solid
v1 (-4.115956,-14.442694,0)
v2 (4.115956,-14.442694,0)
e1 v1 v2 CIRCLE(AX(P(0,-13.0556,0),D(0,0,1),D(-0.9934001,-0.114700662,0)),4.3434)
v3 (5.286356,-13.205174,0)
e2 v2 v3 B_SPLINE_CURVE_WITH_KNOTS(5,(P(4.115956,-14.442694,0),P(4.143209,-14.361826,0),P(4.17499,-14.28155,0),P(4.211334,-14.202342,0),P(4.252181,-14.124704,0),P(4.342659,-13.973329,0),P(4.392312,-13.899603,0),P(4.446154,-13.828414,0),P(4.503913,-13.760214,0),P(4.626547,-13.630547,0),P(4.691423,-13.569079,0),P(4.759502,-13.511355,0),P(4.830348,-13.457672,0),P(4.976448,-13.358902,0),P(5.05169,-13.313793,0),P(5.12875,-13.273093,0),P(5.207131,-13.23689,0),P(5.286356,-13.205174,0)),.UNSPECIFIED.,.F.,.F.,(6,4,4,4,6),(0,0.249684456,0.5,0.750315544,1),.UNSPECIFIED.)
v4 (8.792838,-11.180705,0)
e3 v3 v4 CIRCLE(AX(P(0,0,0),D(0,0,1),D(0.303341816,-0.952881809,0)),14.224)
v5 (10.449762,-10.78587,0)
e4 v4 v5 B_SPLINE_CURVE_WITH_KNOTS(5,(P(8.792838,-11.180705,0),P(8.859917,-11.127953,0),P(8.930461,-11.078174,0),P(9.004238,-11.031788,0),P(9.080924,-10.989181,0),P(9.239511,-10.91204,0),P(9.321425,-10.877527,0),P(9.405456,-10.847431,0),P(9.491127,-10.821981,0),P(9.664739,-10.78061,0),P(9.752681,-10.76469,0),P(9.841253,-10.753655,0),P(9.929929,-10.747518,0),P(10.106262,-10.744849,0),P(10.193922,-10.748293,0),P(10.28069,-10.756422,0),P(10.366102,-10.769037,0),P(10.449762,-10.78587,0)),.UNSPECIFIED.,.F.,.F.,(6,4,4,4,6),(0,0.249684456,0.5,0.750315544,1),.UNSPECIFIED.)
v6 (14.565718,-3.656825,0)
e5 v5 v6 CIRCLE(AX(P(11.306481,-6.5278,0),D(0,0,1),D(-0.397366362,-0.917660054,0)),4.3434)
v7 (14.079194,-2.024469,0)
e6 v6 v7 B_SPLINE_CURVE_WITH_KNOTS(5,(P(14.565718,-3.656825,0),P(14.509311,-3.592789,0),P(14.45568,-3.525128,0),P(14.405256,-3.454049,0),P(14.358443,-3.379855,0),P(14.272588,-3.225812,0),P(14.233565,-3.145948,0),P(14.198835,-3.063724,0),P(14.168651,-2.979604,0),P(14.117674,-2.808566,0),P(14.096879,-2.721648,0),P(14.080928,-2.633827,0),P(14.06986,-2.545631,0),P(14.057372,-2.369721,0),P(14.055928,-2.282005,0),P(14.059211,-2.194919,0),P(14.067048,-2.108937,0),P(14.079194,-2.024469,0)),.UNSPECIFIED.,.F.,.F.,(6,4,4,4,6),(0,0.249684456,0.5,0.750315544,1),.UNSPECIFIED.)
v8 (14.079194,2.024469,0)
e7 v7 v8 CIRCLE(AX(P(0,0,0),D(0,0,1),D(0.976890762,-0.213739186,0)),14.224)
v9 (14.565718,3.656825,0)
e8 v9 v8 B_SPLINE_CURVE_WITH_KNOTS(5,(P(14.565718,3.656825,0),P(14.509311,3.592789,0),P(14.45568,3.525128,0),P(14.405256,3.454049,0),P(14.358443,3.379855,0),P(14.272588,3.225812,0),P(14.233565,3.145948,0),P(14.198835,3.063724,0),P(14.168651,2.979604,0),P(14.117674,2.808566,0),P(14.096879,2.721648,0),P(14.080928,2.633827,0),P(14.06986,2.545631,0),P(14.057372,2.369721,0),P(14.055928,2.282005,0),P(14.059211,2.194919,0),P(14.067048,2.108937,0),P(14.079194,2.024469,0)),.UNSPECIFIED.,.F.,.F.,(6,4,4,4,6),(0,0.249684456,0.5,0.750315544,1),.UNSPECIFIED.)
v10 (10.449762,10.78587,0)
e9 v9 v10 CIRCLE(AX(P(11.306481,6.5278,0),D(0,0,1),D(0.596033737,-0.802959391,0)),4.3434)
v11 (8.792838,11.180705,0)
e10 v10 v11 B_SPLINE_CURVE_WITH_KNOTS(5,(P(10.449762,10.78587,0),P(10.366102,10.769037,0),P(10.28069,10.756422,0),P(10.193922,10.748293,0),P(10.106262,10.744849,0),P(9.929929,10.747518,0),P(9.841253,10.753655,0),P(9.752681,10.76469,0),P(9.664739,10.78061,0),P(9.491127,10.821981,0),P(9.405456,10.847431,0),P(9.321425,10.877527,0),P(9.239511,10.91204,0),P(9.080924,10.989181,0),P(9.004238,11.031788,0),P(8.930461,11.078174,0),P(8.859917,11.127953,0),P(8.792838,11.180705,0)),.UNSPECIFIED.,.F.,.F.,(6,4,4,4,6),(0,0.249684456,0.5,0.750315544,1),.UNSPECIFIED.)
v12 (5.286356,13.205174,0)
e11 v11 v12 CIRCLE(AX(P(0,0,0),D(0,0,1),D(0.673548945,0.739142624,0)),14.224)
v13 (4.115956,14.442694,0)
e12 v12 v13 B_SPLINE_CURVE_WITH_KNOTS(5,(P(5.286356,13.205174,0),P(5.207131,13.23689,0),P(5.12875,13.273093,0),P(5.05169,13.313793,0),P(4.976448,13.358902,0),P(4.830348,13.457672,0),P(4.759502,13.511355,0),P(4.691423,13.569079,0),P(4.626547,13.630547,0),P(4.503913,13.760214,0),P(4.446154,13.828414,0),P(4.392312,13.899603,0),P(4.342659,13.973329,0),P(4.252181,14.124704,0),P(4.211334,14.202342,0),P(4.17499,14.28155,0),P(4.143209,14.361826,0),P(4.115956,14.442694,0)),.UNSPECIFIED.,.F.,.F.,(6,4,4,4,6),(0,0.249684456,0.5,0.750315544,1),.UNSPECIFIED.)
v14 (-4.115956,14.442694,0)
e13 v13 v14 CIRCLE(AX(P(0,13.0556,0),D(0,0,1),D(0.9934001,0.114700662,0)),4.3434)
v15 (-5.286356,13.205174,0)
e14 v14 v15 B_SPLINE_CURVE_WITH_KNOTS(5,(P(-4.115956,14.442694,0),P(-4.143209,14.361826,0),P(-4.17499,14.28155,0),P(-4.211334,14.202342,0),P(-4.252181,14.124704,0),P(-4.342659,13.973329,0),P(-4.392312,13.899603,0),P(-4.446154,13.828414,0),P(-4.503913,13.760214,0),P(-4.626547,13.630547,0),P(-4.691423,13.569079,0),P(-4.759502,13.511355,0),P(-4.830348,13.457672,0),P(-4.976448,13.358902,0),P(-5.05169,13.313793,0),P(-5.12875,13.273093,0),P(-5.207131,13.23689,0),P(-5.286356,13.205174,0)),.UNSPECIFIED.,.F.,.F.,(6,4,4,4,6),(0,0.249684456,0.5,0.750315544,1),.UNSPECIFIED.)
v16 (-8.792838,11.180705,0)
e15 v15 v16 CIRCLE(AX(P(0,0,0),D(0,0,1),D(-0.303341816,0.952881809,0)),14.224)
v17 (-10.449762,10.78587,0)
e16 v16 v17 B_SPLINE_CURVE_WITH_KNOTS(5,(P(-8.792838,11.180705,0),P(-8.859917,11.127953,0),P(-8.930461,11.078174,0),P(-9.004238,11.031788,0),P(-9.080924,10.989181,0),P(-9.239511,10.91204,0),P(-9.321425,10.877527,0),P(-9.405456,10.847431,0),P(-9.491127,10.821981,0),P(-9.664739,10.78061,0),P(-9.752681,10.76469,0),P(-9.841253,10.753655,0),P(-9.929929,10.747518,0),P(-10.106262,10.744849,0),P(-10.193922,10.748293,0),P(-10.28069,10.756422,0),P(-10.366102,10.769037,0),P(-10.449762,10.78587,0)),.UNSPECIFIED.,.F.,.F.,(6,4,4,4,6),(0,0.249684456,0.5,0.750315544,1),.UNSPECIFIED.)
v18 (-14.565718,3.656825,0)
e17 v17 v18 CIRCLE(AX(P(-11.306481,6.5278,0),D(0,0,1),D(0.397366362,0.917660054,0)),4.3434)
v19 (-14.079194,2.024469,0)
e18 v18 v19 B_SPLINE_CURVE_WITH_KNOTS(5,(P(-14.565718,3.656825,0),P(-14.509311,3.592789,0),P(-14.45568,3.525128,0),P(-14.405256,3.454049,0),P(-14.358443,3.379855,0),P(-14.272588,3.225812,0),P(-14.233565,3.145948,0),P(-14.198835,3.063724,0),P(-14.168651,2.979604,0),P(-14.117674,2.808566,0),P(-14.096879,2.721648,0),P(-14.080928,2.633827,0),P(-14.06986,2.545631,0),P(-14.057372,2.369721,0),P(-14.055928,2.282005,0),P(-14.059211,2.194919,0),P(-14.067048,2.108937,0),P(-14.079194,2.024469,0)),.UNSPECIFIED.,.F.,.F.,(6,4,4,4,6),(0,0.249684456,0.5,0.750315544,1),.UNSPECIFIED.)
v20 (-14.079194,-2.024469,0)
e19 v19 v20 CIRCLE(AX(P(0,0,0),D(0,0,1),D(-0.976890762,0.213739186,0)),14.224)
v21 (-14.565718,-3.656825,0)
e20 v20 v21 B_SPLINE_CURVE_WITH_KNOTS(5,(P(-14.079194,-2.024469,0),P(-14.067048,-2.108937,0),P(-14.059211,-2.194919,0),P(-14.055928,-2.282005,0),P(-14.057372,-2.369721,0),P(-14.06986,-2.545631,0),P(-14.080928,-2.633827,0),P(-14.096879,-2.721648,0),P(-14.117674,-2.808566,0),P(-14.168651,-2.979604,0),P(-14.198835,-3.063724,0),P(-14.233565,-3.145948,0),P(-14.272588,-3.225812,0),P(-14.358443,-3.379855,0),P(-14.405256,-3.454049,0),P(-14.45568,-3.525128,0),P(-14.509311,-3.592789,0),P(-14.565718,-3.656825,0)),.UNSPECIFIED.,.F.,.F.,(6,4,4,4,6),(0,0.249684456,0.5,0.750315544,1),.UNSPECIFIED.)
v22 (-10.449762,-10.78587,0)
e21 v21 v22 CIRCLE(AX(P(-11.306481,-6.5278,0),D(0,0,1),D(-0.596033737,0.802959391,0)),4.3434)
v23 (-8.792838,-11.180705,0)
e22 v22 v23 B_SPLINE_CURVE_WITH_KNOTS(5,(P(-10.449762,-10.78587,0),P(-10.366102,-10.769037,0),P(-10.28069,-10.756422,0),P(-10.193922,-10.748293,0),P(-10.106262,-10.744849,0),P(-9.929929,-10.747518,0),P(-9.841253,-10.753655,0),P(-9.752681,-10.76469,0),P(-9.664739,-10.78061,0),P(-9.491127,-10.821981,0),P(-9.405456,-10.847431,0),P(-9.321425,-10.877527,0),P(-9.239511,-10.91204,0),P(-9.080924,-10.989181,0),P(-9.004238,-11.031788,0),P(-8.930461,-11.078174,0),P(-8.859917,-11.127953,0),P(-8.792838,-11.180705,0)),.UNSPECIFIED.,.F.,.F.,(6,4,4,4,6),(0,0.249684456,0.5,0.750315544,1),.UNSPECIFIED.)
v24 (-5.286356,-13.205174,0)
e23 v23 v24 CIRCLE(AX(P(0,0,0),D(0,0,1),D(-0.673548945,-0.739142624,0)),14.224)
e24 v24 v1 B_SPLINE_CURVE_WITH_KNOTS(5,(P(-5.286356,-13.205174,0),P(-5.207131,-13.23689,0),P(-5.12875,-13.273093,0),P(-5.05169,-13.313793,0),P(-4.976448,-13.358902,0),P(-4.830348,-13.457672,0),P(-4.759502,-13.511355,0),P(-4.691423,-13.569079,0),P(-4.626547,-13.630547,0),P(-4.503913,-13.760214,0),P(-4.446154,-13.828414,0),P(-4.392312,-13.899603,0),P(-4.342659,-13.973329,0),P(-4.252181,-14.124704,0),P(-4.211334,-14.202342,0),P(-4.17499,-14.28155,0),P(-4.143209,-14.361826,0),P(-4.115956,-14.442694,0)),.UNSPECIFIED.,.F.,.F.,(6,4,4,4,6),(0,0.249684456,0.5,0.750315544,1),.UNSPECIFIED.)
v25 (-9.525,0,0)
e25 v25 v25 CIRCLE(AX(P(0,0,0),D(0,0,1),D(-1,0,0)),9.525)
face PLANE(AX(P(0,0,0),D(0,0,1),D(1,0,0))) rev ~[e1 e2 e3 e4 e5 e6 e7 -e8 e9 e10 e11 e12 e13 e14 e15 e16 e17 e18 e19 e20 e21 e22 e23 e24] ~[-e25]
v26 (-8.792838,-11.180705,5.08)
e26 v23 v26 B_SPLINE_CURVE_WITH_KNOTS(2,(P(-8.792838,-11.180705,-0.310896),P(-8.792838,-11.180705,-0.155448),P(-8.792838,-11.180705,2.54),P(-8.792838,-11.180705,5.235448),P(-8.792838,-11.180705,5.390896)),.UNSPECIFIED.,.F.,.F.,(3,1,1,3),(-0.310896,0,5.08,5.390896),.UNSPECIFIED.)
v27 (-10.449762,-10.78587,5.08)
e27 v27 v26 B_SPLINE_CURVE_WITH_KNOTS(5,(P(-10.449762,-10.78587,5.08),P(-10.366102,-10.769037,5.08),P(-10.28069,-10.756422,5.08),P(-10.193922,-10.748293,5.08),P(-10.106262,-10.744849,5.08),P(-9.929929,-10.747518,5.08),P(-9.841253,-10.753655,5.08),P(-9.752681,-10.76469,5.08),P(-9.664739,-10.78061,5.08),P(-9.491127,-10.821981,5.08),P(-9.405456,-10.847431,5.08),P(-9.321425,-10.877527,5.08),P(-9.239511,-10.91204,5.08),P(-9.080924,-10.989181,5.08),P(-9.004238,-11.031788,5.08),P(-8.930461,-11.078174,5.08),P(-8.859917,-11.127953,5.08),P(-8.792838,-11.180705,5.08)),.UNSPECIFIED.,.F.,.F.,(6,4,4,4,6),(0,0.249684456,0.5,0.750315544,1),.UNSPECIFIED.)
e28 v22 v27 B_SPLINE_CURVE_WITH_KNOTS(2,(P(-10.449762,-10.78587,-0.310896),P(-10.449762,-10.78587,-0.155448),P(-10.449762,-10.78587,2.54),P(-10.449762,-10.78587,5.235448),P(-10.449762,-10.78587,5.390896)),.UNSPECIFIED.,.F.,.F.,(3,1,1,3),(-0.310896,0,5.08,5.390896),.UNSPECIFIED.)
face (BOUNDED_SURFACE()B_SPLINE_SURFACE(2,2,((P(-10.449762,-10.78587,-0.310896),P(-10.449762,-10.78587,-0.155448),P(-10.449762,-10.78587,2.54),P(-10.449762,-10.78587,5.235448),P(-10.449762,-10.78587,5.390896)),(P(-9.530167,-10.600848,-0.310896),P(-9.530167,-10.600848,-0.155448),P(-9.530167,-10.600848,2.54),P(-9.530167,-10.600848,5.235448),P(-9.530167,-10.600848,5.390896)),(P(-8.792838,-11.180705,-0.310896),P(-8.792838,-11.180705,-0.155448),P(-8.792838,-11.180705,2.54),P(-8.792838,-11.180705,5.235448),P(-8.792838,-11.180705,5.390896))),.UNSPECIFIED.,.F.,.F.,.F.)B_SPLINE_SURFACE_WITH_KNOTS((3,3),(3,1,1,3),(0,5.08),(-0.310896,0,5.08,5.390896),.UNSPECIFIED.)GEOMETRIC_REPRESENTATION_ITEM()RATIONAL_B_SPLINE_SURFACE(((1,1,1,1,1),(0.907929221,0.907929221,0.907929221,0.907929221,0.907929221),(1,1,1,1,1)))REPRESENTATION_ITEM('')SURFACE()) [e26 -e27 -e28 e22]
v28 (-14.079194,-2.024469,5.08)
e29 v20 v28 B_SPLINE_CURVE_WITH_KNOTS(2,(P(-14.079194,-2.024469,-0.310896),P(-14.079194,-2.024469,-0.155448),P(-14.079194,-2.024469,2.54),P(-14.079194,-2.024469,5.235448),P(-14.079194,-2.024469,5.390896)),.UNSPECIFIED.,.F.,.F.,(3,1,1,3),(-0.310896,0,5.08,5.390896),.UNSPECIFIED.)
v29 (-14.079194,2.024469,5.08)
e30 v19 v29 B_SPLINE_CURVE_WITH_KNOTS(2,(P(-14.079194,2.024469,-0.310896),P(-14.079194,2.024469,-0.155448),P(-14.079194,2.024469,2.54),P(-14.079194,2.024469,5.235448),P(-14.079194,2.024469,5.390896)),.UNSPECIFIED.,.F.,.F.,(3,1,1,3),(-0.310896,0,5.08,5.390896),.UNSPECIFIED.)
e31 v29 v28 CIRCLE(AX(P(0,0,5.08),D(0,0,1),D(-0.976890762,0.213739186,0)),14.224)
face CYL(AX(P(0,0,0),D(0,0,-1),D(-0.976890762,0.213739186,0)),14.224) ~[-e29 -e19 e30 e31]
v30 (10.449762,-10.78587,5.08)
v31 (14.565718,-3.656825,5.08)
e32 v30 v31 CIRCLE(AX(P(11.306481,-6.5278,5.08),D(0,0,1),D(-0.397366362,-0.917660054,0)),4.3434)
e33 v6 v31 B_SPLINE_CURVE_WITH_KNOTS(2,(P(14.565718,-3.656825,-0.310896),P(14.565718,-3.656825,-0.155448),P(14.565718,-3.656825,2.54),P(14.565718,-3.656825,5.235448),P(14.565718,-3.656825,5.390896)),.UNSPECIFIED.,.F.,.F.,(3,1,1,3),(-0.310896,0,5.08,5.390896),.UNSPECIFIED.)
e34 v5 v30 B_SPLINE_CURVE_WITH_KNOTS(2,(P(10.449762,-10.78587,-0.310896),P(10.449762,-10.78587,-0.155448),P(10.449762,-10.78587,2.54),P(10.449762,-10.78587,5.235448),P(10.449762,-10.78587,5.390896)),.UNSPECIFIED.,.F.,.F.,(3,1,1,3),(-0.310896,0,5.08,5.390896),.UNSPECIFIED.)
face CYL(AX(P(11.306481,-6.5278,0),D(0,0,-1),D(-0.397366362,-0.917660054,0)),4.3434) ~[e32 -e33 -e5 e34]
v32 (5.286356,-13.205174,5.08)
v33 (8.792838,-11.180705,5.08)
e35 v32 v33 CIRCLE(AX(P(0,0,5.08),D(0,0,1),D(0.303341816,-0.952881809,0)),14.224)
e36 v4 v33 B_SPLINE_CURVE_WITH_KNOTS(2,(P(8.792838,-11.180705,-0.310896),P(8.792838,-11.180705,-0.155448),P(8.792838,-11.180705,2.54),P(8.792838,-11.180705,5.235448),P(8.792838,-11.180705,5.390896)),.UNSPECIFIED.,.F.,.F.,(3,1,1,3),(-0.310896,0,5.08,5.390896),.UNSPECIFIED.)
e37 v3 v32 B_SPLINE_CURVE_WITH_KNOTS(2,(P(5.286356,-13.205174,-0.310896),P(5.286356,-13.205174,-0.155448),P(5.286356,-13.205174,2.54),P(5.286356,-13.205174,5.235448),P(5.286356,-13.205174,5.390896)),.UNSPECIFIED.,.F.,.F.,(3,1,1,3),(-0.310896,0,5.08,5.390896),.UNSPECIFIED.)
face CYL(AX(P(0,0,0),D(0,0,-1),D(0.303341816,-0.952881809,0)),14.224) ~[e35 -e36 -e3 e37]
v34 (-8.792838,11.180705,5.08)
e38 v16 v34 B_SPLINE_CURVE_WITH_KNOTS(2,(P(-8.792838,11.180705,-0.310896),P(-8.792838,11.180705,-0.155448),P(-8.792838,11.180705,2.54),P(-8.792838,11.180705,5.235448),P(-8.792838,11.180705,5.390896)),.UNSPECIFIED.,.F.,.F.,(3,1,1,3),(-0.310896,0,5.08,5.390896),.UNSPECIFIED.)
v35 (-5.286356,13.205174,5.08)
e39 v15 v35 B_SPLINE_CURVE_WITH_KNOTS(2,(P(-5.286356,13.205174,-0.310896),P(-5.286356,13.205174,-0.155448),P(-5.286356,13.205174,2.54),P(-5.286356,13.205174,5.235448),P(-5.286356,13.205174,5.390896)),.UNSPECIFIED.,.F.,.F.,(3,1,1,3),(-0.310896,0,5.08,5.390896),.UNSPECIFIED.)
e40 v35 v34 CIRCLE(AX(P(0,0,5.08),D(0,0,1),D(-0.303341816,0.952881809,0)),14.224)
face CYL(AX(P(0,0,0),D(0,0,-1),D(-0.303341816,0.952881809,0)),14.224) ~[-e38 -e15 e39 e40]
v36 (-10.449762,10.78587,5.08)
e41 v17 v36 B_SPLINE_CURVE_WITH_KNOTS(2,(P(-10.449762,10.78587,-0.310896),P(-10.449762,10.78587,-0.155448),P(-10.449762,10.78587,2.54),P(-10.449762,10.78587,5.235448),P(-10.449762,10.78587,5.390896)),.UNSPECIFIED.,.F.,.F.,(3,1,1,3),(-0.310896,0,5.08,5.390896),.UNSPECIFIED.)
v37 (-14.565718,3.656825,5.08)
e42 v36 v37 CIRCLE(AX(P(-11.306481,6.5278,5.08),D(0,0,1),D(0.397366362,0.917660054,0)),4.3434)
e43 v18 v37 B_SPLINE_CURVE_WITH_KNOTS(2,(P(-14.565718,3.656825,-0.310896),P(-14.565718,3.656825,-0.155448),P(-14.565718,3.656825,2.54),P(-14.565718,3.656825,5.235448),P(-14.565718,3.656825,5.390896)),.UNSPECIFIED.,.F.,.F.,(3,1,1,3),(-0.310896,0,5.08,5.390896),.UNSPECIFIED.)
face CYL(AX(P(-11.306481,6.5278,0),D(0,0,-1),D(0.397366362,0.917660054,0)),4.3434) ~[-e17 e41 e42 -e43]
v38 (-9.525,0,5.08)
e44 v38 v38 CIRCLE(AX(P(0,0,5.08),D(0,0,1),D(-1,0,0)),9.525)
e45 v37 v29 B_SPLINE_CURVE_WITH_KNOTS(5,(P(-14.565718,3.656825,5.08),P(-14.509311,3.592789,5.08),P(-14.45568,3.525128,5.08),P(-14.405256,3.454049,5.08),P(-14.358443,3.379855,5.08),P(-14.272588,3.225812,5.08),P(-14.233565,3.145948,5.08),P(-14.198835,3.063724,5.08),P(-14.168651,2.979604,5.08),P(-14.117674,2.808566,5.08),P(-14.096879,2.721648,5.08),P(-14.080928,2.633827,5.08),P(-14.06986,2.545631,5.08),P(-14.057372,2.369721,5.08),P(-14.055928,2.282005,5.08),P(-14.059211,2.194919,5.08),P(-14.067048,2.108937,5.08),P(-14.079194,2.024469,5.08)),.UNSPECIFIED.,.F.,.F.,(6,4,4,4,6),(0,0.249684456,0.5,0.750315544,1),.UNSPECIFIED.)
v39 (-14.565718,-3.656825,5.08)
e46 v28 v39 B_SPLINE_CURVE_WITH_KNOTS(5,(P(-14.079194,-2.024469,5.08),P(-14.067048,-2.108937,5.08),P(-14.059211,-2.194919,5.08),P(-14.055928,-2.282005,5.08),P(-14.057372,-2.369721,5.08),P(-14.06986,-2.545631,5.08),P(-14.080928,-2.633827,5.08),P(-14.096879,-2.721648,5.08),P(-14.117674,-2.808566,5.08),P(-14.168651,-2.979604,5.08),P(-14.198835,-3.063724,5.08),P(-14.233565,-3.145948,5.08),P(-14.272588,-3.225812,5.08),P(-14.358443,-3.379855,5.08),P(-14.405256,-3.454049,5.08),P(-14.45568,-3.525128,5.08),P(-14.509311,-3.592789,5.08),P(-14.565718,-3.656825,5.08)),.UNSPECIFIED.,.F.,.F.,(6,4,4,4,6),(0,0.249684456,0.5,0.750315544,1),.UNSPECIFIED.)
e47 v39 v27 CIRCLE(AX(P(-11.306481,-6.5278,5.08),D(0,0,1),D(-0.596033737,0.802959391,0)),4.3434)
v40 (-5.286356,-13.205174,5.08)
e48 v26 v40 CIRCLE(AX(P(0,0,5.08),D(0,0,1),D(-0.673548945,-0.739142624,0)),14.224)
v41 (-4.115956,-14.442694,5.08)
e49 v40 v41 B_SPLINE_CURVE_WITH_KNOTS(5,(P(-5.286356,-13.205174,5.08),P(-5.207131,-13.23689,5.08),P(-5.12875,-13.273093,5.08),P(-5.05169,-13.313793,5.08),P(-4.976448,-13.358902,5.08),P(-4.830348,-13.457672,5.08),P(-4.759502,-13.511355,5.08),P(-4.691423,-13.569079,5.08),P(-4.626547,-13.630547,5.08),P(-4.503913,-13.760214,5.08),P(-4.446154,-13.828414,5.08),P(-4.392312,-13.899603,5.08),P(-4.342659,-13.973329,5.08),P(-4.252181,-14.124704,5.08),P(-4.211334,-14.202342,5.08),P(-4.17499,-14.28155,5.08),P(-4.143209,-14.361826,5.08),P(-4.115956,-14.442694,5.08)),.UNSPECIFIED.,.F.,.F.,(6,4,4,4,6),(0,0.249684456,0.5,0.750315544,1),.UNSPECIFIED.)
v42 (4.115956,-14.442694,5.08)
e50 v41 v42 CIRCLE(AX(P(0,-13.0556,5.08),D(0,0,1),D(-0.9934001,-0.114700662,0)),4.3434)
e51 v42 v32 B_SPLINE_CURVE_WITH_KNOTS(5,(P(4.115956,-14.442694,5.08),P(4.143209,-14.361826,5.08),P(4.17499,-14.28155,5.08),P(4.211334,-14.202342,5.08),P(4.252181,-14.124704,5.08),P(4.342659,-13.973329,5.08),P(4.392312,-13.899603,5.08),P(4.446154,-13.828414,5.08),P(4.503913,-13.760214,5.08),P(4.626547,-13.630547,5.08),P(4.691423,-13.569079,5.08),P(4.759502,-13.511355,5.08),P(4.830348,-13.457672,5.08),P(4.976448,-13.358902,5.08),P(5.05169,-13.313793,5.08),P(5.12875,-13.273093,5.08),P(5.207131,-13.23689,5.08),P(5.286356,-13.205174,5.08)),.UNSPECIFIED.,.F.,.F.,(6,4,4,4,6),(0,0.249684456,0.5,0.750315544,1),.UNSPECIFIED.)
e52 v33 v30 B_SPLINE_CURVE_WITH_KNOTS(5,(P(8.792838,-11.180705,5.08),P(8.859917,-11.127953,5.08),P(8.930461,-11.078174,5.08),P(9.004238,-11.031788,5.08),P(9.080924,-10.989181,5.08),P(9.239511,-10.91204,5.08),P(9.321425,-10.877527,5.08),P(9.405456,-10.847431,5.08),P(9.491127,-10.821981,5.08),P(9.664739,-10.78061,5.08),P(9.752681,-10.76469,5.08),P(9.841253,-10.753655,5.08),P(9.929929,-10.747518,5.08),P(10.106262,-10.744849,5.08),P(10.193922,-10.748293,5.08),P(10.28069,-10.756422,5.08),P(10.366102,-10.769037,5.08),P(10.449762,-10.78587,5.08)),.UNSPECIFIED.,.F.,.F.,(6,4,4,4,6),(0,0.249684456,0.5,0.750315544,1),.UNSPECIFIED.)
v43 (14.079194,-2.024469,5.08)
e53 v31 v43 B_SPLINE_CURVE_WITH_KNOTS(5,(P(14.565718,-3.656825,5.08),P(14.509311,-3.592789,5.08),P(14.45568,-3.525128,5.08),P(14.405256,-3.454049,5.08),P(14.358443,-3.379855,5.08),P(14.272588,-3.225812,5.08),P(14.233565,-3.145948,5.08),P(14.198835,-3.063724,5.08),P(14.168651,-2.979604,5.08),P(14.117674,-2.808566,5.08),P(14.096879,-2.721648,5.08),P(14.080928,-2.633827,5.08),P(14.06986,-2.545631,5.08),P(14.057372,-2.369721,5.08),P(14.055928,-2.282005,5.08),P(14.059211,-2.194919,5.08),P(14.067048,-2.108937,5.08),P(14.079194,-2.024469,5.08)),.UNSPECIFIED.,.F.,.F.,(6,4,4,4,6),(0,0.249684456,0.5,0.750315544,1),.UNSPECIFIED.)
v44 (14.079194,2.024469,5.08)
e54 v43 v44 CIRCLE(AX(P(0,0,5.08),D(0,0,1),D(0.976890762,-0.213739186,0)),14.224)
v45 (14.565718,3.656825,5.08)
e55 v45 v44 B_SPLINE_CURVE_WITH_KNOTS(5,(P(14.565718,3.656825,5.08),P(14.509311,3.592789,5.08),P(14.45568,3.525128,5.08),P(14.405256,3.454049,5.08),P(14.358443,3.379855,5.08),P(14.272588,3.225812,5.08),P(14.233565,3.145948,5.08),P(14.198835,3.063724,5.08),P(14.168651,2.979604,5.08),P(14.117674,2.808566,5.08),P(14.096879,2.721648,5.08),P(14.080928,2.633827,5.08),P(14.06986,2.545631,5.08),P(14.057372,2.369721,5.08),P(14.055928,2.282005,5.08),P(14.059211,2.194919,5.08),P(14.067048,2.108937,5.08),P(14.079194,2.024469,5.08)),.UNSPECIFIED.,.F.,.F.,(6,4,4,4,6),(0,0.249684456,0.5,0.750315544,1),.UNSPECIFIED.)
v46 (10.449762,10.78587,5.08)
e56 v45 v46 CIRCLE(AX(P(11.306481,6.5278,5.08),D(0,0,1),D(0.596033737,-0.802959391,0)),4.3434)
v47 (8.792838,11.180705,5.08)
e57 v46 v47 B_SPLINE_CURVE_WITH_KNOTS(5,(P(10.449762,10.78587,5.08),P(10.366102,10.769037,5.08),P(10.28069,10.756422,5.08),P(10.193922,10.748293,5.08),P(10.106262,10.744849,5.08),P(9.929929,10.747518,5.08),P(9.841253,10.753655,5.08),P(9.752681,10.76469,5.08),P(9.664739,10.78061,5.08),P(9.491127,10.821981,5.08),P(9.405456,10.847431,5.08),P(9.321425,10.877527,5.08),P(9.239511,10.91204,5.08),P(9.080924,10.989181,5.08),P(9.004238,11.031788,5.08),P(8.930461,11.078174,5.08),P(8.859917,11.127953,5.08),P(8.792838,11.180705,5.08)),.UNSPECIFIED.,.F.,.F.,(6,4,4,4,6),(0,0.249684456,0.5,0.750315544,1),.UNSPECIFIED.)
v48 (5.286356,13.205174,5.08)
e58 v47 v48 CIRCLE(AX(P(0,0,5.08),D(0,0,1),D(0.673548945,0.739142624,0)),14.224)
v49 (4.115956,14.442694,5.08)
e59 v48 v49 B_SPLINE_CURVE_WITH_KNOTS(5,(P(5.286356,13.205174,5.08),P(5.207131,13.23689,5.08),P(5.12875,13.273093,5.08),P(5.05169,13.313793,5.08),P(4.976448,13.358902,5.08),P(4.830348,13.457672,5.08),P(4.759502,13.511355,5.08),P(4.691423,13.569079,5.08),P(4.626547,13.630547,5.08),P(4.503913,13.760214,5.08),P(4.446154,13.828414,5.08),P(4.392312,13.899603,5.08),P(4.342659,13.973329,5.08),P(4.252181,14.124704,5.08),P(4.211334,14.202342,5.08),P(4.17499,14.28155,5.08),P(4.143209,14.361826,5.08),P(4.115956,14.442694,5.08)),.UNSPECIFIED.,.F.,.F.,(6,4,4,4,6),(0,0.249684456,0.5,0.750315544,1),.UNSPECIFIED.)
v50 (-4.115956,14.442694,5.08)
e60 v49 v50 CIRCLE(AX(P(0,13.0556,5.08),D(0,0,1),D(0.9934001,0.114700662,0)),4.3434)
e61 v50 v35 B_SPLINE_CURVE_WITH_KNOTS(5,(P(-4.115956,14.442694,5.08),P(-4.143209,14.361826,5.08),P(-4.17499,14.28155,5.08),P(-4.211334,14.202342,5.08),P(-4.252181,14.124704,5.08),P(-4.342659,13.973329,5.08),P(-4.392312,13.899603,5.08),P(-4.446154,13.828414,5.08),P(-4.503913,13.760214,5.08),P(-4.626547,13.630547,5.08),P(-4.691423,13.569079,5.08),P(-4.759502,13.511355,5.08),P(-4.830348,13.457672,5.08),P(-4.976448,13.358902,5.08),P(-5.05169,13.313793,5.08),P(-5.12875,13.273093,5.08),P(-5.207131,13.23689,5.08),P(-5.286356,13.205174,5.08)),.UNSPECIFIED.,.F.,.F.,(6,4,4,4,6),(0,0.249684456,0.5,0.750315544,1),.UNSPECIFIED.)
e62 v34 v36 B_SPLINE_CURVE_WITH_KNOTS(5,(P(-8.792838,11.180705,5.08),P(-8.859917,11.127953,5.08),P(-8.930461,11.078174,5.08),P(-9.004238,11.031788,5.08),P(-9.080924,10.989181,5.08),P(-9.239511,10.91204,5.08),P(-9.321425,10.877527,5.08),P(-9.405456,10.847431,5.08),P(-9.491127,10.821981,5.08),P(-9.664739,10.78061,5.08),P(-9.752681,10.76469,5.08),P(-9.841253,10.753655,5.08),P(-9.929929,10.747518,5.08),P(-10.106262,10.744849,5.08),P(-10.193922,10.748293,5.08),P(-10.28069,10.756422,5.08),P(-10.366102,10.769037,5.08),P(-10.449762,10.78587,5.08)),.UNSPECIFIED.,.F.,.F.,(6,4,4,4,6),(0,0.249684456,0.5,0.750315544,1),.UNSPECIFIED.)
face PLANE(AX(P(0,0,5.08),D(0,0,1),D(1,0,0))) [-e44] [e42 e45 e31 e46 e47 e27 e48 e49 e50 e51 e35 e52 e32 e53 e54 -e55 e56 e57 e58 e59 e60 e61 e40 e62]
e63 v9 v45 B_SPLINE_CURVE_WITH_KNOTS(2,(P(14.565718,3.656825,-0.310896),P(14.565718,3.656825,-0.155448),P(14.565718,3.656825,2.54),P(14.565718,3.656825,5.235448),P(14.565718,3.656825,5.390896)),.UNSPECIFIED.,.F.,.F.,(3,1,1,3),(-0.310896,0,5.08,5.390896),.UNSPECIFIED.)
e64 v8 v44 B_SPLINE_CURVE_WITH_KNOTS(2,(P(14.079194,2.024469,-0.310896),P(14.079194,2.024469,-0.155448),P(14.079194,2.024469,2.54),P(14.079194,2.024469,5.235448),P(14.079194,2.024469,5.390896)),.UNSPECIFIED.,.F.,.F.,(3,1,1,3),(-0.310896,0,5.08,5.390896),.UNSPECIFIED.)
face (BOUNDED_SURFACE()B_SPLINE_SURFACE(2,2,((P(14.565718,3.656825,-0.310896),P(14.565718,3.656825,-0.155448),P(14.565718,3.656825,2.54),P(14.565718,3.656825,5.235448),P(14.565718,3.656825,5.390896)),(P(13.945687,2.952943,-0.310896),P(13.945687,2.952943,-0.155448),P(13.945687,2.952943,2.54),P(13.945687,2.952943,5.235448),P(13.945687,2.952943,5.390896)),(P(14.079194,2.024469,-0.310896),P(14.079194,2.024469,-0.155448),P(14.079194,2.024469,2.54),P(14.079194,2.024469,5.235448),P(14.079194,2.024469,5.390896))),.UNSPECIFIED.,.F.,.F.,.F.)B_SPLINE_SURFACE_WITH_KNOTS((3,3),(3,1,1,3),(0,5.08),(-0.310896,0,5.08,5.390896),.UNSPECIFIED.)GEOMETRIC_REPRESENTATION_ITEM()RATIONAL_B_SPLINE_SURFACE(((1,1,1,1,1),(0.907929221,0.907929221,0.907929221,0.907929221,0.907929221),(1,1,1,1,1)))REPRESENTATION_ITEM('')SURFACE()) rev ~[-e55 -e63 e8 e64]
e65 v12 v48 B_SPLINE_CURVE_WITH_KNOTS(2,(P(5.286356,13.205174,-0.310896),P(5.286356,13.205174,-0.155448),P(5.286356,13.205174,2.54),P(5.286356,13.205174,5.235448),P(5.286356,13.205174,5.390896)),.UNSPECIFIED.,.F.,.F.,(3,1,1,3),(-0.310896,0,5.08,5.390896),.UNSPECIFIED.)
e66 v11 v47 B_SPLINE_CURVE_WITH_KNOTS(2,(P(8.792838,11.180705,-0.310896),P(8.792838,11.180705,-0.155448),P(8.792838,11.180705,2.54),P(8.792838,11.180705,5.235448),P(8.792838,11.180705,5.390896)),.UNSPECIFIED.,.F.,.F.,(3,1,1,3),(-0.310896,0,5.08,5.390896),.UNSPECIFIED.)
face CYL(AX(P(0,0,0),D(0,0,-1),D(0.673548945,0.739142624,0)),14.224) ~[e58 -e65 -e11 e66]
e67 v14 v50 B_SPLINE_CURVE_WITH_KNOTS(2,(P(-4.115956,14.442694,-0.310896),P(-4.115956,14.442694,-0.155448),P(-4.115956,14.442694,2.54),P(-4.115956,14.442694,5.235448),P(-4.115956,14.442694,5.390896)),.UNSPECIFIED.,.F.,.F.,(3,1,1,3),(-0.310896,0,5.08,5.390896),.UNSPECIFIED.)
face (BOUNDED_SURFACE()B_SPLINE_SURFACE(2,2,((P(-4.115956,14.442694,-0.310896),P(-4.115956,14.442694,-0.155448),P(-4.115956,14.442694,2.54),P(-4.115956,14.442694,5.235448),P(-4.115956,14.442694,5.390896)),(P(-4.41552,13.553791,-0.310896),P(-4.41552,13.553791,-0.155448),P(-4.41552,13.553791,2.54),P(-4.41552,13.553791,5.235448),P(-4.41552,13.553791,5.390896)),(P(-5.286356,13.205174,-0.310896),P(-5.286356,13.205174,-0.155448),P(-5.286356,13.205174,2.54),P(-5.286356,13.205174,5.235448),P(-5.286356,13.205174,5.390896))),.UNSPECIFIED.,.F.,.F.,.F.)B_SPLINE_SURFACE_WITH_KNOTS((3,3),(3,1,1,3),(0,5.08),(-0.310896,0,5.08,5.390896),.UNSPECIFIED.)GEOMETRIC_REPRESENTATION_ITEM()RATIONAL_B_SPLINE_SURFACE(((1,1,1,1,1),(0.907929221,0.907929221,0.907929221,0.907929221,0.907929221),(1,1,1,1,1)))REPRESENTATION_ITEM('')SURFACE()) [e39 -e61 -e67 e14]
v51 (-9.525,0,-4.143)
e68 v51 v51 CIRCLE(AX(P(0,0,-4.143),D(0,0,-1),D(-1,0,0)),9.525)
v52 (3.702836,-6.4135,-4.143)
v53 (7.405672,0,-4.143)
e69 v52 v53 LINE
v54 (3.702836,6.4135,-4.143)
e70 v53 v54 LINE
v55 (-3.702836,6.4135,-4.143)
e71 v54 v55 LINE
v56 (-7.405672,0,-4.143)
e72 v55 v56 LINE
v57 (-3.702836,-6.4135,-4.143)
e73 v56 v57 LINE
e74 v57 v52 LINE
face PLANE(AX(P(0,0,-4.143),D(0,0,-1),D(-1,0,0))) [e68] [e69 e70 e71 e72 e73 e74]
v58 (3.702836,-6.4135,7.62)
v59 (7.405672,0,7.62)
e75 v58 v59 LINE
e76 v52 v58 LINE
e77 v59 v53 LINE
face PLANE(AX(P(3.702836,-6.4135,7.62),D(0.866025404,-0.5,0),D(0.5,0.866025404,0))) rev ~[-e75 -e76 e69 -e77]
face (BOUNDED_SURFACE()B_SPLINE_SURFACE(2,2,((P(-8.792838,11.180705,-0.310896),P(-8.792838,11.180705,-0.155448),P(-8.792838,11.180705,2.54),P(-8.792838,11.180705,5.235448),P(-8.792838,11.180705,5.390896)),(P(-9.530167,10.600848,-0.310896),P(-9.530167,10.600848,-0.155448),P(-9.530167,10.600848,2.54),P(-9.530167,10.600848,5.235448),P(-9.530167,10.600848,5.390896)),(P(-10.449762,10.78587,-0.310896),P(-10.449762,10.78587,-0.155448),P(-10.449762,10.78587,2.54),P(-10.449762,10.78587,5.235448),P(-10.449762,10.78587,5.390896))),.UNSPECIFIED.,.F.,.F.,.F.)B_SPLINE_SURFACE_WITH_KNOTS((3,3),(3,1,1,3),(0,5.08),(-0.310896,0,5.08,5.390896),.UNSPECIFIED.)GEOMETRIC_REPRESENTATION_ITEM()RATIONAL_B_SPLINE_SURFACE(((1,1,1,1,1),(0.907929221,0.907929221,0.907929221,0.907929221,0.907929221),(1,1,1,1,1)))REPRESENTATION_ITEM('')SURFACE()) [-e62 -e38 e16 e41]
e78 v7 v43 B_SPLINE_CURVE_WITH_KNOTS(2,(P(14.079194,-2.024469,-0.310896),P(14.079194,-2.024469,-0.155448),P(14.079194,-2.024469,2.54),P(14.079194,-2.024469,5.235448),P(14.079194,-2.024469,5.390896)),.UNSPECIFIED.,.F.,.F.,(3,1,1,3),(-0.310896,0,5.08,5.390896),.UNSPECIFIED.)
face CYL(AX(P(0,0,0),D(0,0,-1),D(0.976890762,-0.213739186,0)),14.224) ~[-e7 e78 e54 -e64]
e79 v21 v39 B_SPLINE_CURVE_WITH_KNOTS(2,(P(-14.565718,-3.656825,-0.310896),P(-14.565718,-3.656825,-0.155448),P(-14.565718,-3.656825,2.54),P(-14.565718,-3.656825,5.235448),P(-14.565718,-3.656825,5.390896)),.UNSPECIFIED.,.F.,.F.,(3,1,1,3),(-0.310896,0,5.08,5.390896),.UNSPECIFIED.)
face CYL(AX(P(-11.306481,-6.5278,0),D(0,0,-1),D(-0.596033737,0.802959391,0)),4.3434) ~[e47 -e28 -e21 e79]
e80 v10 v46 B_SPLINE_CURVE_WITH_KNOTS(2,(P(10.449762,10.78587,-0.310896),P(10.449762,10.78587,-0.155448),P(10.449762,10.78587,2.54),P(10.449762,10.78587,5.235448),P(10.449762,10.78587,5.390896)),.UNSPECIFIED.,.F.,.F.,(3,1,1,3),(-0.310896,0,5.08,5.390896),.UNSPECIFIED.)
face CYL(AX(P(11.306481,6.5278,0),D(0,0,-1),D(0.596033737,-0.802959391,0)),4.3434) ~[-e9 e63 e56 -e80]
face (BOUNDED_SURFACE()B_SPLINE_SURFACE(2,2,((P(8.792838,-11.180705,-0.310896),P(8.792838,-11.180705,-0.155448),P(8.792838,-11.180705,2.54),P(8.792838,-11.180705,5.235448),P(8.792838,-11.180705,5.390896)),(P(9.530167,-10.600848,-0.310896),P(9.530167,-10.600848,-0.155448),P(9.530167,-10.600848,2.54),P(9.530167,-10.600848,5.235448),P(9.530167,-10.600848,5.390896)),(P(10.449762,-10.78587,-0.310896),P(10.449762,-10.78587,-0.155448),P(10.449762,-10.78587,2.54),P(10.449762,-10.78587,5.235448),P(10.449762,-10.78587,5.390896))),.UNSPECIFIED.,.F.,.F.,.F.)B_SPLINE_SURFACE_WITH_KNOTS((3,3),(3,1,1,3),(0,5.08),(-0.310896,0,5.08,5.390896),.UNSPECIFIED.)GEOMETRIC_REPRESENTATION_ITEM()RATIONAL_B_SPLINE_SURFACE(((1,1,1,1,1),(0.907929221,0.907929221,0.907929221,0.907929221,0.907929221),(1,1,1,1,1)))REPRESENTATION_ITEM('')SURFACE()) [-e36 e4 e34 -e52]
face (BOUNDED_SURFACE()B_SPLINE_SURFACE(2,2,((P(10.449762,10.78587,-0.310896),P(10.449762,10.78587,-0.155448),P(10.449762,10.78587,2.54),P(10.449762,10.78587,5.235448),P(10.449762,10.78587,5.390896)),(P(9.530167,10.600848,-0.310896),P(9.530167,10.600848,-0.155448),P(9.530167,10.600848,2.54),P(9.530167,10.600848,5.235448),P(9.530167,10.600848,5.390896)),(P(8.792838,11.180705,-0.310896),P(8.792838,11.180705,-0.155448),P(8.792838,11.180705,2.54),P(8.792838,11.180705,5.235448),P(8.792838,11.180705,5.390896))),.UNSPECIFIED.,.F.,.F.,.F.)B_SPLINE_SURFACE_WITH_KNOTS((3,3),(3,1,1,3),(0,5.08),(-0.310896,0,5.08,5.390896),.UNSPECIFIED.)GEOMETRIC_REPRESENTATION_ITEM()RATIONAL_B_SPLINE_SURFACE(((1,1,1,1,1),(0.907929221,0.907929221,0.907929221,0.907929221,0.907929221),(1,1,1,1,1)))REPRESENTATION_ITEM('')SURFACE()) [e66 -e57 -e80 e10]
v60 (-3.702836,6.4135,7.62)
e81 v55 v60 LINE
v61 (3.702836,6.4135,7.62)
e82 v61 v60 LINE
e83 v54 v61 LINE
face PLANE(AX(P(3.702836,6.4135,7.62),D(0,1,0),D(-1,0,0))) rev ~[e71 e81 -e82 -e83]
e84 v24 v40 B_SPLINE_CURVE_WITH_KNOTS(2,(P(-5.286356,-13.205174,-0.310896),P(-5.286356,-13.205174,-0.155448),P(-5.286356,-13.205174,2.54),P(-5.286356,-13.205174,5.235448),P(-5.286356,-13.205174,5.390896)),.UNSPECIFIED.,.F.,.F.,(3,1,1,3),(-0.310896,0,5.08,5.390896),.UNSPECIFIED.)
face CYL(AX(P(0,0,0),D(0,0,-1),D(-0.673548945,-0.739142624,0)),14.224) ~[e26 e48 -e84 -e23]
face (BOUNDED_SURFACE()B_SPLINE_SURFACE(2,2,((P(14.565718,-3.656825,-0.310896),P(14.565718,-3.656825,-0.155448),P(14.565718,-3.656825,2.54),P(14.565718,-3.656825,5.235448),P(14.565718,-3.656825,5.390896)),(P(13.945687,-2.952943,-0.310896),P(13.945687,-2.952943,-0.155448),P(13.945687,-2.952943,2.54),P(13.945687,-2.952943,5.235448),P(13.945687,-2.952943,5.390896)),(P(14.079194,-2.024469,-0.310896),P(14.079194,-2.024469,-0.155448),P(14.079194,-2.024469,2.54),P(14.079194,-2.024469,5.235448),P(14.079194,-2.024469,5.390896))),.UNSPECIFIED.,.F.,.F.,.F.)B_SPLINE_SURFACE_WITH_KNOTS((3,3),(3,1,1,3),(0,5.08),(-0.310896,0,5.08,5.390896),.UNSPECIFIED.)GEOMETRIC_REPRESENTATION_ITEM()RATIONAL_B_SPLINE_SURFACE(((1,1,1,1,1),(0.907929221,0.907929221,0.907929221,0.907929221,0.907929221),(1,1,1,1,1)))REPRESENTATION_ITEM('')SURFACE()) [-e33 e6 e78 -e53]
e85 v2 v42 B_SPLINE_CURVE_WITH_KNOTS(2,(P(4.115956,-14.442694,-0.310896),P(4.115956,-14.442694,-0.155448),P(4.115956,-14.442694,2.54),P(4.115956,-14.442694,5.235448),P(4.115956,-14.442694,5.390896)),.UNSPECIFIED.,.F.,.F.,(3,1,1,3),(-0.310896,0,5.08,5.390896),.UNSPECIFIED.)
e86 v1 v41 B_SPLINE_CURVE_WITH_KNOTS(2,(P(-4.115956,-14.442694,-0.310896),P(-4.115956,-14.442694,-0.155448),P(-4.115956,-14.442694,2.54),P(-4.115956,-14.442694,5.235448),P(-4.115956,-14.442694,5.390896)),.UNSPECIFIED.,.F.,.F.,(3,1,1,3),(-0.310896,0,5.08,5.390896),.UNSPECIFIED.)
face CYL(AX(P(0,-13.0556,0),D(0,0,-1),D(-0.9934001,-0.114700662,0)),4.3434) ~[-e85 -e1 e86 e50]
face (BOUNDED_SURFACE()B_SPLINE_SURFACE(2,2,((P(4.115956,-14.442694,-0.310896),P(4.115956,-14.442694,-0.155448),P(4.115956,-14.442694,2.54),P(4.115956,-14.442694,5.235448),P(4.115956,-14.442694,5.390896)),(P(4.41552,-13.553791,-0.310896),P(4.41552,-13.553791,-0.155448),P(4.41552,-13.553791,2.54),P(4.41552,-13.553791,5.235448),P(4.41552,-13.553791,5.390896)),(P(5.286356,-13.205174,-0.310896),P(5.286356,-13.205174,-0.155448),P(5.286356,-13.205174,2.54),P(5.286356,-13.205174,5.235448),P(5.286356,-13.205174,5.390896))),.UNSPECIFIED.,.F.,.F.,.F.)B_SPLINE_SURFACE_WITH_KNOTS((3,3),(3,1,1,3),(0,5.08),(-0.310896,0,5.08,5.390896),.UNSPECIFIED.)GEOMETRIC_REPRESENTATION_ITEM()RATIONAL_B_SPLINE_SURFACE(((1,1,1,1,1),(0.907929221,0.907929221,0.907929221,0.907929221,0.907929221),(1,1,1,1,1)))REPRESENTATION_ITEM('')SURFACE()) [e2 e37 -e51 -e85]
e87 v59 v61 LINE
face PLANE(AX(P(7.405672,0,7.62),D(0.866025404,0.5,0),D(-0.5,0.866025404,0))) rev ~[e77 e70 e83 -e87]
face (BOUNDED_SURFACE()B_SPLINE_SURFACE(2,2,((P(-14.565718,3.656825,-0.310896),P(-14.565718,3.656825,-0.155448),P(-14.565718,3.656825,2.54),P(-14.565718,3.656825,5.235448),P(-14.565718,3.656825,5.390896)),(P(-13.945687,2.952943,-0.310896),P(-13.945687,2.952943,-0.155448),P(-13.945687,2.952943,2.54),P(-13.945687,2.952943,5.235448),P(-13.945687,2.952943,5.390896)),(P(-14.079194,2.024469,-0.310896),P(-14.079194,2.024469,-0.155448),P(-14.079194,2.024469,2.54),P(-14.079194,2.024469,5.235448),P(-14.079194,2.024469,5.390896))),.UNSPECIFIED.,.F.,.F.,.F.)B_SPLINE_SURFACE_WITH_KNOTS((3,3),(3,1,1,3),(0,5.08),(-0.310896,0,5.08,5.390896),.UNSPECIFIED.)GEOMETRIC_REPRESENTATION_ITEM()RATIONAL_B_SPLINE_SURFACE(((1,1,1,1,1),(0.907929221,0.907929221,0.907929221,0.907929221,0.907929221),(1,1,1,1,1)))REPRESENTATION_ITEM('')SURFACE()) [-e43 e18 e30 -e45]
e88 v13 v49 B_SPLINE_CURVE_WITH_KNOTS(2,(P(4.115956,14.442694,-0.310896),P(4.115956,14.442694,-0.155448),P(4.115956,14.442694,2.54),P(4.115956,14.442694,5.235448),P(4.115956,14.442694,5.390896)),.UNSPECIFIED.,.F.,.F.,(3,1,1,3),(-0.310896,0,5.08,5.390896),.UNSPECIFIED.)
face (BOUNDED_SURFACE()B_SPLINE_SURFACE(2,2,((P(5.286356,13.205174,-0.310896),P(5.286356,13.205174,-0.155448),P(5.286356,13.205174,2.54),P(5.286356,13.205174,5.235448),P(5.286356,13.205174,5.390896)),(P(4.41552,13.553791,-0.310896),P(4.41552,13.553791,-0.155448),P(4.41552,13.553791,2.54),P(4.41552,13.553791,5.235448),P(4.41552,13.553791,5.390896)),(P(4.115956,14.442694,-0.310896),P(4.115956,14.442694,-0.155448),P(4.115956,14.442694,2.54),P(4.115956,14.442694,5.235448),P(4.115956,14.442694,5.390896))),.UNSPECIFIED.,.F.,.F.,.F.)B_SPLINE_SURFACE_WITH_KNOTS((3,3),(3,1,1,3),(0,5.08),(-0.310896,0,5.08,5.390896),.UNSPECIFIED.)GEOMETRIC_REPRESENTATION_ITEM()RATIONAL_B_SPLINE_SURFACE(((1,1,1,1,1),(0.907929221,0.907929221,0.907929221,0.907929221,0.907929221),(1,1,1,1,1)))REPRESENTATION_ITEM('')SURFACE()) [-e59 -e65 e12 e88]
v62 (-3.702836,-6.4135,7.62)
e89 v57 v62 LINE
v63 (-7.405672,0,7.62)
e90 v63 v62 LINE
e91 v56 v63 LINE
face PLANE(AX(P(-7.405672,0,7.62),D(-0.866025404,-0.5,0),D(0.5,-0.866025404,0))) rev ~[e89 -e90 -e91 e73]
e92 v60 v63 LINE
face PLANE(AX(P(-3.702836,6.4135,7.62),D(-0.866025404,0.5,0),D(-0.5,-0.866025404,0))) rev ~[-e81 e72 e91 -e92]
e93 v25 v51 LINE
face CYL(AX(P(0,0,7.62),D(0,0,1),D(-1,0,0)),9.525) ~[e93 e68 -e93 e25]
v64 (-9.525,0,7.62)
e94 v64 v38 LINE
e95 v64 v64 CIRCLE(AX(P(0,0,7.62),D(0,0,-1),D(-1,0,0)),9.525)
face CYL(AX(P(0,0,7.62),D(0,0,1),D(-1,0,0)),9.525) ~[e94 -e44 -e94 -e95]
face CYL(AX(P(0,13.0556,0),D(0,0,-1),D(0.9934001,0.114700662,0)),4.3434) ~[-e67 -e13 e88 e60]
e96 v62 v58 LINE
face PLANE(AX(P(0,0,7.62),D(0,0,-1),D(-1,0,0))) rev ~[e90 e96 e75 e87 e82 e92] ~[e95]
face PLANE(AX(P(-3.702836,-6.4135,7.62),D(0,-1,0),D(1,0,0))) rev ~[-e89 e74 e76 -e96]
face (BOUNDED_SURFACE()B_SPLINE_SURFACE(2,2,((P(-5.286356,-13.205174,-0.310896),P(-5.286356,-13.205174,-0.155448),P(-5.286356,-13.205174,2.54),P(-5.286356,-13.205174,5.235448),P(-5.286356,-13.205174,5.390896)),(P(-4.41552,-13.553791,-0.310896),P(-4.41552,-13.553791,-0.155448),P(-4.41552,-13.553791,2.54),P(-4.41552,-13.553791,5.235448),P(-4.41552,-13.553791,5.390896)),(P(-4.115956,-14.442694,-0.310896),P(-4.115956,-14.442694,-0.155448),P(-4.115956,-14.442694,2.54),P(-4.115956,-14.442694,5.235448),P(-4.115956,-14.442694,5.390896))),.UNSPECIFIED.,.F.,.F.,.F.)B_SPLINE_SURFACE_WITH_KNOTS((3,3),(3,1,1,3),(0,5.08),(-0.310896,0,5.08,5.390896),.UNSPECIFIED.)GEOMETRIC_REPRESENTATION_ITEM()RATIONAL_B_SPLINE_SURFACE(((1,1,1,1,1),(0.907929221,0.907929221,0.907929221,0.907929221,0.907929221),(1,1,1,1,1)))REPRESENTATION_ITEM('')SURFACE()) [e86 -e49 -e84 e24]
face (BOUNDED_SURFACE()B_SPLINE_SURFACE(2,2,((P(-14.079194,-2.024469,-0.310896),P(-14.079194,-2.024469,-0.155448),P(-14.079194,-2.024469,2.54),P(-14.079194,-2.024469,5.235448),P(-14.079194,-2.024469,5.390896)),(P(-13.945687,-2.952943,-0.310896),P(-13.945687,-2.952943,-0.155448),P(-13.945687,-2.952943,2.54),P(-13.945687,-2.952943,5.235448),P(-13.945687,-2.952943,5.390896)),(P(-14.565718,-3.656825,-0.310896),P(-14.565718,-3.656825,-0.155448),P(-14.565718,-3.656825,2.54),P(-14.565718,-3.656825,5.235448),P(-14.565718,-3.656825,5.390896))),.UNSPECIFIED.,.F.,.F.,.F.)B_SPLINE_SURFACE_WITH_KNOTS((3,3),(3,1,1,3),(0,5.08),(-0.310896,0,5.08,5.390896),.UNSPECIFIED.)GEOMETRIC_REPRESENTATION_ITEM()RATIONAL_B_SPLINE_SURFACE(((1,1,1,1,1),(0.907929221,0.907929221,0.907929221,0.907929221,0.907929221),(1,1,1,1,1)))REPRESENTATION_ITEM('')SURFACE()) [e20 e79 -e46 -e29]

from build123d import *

# Parameters (mm, degrees)
BOSS_EXTRUDE2_DEPTH      = 5.08
FILLET1_R                = 2.032
CUT_EXTRUDE1_DEPTH       = 24.94682426
BOSS_EXTRUDE3_DEPTH      = 4.143000096
BOSS_EXTRUDE3_DEPTH_BACK = 7.62
SKETCH7_R                = 9.525


with BuildPart() as part:
    # Sketch5 → Boss-Extrude2 (new body)
    with BuildSketch(Plane.XY):
        with BuildLine():
            ThreePointArc((13.895294195, 3.040226179), (15.067976, 8.6995), (9.580560202, 10.513564677))
            ThreePointArc((9.580560202, 10.513564677), (7.112, 12.318345343), (4.314733993, 13.553790856))
            ThreePointArc((4.314733993, 13.553790856), (0, 17.399), (-4.314733993, 13.553790856))
            ThreePointArc((-4.314733993, 13.553790856), (-7.112, 12.318345343), (-9.580560202, 10.513564677))
            ThreePointArc((-9.580560202, 10.513564677), (-15.067976, 8.6995), (-13.895294195, 3.040226179))
            ThreePointArc((-13.895294195, 3.040226179), (-14.224, 0), (-13.895294195, -3.040226179))
            ThreePointArc((-13.895294195, -3.040226179), (-15.067976, -8.6995), (-9.580560202, -10.513564677))
            ThreePointArc((-9.580560202, -10.513564677), (-7.112, -12.318345343), (-4.314733993, -13.553790856))
            ThreePointArc((-4.314733993, -13.553790856), (0, -17.399), (4.314733993, -13.553790856))
            ThreePointArc((4.314733993, -13.553790856), (7.112, -12.318345343), (9.580560202, -10.513564677))
            ThreePointArc((9.580560202, -10.513564677), (15.067976, -8.6995), (13.895294195, -3.040226179))
            ThreePointArc((13.895294195, -3.040226179), (14.224, 0), (13.895294195, 3.040226179))
        make_face()
    extrude(amount=BOSS_EXTRUDE2_DEPTH)

    # Fillet1
    fillet1_edges = [part.edges().sort_by_distance(p)[0] for p in [
        (-4.314733993, 13.553790856, 2.54),
        (4.314733993, 13.553790856, 2.54),
        (9.580560202, 10.513564677, 2.54),
        (13.895294195, 3.040226179, 2.54),
        (13.895294195, -3.040226179, 2.54),
        (9.580560202, -10.513564677, 2.54),
        (4.314733993, -13.553790856, 2.54),
        (-4.314733993, -13.553790856, 2.54),
        (-9.580560202, -10.513564677, 2.54),
        (-13.895294195, -3.040226179, 2.54),
        (-9.580560202, 10.513564677, 2.54),
        (-13.895294195, 3.040226179, 2.54),
    ]]
    fillet(fillet1_edges, radius=FILLET1_R)

    # Sketch6 → Cut-Extrude1 (cut, through all)
    with BuildSketch(Plane.XY.offset(5.08)):
        Polygon((7.405671903, 0), (3.702835951, 6.4135), (-3.702835951, 6.4135), (-7.405671903, 0), (-3.702835951, -6.4135), (3.702835951, -6.4135), align=None)
    extrude(amount=-CUT_EXTRUDE1_DEPTH, mode=Mode.SUBTRACT)

    # Sketch7 → Boss-Extrude3 (add, two sides: drawn at the far end of the back side and taken through both)
    with BuildSketch(Plane(origin=(0, 0, 0), x_dir=(-1, 0, 0), z_dir=(0, 0, -1)).offset(-BOSS_EXTRUDE3_DEPTH_BACK)):
        Circle(SKETCH7_R)
        Polygon((-7.405671903, 0), (-3.702835951, 6.4135), (3.702835951, 6.4135), (7.405671903, 0), (3.702835951, -6.4135), (-3.702835951, -6.4135), align=None, mode=Mode.SUBTRACT)
    extrude(amount=BOSS_EXTRUDE3_DEPTH + BOSS_EXTRUDE3_DEPTH_BACK)


solid = part.part
